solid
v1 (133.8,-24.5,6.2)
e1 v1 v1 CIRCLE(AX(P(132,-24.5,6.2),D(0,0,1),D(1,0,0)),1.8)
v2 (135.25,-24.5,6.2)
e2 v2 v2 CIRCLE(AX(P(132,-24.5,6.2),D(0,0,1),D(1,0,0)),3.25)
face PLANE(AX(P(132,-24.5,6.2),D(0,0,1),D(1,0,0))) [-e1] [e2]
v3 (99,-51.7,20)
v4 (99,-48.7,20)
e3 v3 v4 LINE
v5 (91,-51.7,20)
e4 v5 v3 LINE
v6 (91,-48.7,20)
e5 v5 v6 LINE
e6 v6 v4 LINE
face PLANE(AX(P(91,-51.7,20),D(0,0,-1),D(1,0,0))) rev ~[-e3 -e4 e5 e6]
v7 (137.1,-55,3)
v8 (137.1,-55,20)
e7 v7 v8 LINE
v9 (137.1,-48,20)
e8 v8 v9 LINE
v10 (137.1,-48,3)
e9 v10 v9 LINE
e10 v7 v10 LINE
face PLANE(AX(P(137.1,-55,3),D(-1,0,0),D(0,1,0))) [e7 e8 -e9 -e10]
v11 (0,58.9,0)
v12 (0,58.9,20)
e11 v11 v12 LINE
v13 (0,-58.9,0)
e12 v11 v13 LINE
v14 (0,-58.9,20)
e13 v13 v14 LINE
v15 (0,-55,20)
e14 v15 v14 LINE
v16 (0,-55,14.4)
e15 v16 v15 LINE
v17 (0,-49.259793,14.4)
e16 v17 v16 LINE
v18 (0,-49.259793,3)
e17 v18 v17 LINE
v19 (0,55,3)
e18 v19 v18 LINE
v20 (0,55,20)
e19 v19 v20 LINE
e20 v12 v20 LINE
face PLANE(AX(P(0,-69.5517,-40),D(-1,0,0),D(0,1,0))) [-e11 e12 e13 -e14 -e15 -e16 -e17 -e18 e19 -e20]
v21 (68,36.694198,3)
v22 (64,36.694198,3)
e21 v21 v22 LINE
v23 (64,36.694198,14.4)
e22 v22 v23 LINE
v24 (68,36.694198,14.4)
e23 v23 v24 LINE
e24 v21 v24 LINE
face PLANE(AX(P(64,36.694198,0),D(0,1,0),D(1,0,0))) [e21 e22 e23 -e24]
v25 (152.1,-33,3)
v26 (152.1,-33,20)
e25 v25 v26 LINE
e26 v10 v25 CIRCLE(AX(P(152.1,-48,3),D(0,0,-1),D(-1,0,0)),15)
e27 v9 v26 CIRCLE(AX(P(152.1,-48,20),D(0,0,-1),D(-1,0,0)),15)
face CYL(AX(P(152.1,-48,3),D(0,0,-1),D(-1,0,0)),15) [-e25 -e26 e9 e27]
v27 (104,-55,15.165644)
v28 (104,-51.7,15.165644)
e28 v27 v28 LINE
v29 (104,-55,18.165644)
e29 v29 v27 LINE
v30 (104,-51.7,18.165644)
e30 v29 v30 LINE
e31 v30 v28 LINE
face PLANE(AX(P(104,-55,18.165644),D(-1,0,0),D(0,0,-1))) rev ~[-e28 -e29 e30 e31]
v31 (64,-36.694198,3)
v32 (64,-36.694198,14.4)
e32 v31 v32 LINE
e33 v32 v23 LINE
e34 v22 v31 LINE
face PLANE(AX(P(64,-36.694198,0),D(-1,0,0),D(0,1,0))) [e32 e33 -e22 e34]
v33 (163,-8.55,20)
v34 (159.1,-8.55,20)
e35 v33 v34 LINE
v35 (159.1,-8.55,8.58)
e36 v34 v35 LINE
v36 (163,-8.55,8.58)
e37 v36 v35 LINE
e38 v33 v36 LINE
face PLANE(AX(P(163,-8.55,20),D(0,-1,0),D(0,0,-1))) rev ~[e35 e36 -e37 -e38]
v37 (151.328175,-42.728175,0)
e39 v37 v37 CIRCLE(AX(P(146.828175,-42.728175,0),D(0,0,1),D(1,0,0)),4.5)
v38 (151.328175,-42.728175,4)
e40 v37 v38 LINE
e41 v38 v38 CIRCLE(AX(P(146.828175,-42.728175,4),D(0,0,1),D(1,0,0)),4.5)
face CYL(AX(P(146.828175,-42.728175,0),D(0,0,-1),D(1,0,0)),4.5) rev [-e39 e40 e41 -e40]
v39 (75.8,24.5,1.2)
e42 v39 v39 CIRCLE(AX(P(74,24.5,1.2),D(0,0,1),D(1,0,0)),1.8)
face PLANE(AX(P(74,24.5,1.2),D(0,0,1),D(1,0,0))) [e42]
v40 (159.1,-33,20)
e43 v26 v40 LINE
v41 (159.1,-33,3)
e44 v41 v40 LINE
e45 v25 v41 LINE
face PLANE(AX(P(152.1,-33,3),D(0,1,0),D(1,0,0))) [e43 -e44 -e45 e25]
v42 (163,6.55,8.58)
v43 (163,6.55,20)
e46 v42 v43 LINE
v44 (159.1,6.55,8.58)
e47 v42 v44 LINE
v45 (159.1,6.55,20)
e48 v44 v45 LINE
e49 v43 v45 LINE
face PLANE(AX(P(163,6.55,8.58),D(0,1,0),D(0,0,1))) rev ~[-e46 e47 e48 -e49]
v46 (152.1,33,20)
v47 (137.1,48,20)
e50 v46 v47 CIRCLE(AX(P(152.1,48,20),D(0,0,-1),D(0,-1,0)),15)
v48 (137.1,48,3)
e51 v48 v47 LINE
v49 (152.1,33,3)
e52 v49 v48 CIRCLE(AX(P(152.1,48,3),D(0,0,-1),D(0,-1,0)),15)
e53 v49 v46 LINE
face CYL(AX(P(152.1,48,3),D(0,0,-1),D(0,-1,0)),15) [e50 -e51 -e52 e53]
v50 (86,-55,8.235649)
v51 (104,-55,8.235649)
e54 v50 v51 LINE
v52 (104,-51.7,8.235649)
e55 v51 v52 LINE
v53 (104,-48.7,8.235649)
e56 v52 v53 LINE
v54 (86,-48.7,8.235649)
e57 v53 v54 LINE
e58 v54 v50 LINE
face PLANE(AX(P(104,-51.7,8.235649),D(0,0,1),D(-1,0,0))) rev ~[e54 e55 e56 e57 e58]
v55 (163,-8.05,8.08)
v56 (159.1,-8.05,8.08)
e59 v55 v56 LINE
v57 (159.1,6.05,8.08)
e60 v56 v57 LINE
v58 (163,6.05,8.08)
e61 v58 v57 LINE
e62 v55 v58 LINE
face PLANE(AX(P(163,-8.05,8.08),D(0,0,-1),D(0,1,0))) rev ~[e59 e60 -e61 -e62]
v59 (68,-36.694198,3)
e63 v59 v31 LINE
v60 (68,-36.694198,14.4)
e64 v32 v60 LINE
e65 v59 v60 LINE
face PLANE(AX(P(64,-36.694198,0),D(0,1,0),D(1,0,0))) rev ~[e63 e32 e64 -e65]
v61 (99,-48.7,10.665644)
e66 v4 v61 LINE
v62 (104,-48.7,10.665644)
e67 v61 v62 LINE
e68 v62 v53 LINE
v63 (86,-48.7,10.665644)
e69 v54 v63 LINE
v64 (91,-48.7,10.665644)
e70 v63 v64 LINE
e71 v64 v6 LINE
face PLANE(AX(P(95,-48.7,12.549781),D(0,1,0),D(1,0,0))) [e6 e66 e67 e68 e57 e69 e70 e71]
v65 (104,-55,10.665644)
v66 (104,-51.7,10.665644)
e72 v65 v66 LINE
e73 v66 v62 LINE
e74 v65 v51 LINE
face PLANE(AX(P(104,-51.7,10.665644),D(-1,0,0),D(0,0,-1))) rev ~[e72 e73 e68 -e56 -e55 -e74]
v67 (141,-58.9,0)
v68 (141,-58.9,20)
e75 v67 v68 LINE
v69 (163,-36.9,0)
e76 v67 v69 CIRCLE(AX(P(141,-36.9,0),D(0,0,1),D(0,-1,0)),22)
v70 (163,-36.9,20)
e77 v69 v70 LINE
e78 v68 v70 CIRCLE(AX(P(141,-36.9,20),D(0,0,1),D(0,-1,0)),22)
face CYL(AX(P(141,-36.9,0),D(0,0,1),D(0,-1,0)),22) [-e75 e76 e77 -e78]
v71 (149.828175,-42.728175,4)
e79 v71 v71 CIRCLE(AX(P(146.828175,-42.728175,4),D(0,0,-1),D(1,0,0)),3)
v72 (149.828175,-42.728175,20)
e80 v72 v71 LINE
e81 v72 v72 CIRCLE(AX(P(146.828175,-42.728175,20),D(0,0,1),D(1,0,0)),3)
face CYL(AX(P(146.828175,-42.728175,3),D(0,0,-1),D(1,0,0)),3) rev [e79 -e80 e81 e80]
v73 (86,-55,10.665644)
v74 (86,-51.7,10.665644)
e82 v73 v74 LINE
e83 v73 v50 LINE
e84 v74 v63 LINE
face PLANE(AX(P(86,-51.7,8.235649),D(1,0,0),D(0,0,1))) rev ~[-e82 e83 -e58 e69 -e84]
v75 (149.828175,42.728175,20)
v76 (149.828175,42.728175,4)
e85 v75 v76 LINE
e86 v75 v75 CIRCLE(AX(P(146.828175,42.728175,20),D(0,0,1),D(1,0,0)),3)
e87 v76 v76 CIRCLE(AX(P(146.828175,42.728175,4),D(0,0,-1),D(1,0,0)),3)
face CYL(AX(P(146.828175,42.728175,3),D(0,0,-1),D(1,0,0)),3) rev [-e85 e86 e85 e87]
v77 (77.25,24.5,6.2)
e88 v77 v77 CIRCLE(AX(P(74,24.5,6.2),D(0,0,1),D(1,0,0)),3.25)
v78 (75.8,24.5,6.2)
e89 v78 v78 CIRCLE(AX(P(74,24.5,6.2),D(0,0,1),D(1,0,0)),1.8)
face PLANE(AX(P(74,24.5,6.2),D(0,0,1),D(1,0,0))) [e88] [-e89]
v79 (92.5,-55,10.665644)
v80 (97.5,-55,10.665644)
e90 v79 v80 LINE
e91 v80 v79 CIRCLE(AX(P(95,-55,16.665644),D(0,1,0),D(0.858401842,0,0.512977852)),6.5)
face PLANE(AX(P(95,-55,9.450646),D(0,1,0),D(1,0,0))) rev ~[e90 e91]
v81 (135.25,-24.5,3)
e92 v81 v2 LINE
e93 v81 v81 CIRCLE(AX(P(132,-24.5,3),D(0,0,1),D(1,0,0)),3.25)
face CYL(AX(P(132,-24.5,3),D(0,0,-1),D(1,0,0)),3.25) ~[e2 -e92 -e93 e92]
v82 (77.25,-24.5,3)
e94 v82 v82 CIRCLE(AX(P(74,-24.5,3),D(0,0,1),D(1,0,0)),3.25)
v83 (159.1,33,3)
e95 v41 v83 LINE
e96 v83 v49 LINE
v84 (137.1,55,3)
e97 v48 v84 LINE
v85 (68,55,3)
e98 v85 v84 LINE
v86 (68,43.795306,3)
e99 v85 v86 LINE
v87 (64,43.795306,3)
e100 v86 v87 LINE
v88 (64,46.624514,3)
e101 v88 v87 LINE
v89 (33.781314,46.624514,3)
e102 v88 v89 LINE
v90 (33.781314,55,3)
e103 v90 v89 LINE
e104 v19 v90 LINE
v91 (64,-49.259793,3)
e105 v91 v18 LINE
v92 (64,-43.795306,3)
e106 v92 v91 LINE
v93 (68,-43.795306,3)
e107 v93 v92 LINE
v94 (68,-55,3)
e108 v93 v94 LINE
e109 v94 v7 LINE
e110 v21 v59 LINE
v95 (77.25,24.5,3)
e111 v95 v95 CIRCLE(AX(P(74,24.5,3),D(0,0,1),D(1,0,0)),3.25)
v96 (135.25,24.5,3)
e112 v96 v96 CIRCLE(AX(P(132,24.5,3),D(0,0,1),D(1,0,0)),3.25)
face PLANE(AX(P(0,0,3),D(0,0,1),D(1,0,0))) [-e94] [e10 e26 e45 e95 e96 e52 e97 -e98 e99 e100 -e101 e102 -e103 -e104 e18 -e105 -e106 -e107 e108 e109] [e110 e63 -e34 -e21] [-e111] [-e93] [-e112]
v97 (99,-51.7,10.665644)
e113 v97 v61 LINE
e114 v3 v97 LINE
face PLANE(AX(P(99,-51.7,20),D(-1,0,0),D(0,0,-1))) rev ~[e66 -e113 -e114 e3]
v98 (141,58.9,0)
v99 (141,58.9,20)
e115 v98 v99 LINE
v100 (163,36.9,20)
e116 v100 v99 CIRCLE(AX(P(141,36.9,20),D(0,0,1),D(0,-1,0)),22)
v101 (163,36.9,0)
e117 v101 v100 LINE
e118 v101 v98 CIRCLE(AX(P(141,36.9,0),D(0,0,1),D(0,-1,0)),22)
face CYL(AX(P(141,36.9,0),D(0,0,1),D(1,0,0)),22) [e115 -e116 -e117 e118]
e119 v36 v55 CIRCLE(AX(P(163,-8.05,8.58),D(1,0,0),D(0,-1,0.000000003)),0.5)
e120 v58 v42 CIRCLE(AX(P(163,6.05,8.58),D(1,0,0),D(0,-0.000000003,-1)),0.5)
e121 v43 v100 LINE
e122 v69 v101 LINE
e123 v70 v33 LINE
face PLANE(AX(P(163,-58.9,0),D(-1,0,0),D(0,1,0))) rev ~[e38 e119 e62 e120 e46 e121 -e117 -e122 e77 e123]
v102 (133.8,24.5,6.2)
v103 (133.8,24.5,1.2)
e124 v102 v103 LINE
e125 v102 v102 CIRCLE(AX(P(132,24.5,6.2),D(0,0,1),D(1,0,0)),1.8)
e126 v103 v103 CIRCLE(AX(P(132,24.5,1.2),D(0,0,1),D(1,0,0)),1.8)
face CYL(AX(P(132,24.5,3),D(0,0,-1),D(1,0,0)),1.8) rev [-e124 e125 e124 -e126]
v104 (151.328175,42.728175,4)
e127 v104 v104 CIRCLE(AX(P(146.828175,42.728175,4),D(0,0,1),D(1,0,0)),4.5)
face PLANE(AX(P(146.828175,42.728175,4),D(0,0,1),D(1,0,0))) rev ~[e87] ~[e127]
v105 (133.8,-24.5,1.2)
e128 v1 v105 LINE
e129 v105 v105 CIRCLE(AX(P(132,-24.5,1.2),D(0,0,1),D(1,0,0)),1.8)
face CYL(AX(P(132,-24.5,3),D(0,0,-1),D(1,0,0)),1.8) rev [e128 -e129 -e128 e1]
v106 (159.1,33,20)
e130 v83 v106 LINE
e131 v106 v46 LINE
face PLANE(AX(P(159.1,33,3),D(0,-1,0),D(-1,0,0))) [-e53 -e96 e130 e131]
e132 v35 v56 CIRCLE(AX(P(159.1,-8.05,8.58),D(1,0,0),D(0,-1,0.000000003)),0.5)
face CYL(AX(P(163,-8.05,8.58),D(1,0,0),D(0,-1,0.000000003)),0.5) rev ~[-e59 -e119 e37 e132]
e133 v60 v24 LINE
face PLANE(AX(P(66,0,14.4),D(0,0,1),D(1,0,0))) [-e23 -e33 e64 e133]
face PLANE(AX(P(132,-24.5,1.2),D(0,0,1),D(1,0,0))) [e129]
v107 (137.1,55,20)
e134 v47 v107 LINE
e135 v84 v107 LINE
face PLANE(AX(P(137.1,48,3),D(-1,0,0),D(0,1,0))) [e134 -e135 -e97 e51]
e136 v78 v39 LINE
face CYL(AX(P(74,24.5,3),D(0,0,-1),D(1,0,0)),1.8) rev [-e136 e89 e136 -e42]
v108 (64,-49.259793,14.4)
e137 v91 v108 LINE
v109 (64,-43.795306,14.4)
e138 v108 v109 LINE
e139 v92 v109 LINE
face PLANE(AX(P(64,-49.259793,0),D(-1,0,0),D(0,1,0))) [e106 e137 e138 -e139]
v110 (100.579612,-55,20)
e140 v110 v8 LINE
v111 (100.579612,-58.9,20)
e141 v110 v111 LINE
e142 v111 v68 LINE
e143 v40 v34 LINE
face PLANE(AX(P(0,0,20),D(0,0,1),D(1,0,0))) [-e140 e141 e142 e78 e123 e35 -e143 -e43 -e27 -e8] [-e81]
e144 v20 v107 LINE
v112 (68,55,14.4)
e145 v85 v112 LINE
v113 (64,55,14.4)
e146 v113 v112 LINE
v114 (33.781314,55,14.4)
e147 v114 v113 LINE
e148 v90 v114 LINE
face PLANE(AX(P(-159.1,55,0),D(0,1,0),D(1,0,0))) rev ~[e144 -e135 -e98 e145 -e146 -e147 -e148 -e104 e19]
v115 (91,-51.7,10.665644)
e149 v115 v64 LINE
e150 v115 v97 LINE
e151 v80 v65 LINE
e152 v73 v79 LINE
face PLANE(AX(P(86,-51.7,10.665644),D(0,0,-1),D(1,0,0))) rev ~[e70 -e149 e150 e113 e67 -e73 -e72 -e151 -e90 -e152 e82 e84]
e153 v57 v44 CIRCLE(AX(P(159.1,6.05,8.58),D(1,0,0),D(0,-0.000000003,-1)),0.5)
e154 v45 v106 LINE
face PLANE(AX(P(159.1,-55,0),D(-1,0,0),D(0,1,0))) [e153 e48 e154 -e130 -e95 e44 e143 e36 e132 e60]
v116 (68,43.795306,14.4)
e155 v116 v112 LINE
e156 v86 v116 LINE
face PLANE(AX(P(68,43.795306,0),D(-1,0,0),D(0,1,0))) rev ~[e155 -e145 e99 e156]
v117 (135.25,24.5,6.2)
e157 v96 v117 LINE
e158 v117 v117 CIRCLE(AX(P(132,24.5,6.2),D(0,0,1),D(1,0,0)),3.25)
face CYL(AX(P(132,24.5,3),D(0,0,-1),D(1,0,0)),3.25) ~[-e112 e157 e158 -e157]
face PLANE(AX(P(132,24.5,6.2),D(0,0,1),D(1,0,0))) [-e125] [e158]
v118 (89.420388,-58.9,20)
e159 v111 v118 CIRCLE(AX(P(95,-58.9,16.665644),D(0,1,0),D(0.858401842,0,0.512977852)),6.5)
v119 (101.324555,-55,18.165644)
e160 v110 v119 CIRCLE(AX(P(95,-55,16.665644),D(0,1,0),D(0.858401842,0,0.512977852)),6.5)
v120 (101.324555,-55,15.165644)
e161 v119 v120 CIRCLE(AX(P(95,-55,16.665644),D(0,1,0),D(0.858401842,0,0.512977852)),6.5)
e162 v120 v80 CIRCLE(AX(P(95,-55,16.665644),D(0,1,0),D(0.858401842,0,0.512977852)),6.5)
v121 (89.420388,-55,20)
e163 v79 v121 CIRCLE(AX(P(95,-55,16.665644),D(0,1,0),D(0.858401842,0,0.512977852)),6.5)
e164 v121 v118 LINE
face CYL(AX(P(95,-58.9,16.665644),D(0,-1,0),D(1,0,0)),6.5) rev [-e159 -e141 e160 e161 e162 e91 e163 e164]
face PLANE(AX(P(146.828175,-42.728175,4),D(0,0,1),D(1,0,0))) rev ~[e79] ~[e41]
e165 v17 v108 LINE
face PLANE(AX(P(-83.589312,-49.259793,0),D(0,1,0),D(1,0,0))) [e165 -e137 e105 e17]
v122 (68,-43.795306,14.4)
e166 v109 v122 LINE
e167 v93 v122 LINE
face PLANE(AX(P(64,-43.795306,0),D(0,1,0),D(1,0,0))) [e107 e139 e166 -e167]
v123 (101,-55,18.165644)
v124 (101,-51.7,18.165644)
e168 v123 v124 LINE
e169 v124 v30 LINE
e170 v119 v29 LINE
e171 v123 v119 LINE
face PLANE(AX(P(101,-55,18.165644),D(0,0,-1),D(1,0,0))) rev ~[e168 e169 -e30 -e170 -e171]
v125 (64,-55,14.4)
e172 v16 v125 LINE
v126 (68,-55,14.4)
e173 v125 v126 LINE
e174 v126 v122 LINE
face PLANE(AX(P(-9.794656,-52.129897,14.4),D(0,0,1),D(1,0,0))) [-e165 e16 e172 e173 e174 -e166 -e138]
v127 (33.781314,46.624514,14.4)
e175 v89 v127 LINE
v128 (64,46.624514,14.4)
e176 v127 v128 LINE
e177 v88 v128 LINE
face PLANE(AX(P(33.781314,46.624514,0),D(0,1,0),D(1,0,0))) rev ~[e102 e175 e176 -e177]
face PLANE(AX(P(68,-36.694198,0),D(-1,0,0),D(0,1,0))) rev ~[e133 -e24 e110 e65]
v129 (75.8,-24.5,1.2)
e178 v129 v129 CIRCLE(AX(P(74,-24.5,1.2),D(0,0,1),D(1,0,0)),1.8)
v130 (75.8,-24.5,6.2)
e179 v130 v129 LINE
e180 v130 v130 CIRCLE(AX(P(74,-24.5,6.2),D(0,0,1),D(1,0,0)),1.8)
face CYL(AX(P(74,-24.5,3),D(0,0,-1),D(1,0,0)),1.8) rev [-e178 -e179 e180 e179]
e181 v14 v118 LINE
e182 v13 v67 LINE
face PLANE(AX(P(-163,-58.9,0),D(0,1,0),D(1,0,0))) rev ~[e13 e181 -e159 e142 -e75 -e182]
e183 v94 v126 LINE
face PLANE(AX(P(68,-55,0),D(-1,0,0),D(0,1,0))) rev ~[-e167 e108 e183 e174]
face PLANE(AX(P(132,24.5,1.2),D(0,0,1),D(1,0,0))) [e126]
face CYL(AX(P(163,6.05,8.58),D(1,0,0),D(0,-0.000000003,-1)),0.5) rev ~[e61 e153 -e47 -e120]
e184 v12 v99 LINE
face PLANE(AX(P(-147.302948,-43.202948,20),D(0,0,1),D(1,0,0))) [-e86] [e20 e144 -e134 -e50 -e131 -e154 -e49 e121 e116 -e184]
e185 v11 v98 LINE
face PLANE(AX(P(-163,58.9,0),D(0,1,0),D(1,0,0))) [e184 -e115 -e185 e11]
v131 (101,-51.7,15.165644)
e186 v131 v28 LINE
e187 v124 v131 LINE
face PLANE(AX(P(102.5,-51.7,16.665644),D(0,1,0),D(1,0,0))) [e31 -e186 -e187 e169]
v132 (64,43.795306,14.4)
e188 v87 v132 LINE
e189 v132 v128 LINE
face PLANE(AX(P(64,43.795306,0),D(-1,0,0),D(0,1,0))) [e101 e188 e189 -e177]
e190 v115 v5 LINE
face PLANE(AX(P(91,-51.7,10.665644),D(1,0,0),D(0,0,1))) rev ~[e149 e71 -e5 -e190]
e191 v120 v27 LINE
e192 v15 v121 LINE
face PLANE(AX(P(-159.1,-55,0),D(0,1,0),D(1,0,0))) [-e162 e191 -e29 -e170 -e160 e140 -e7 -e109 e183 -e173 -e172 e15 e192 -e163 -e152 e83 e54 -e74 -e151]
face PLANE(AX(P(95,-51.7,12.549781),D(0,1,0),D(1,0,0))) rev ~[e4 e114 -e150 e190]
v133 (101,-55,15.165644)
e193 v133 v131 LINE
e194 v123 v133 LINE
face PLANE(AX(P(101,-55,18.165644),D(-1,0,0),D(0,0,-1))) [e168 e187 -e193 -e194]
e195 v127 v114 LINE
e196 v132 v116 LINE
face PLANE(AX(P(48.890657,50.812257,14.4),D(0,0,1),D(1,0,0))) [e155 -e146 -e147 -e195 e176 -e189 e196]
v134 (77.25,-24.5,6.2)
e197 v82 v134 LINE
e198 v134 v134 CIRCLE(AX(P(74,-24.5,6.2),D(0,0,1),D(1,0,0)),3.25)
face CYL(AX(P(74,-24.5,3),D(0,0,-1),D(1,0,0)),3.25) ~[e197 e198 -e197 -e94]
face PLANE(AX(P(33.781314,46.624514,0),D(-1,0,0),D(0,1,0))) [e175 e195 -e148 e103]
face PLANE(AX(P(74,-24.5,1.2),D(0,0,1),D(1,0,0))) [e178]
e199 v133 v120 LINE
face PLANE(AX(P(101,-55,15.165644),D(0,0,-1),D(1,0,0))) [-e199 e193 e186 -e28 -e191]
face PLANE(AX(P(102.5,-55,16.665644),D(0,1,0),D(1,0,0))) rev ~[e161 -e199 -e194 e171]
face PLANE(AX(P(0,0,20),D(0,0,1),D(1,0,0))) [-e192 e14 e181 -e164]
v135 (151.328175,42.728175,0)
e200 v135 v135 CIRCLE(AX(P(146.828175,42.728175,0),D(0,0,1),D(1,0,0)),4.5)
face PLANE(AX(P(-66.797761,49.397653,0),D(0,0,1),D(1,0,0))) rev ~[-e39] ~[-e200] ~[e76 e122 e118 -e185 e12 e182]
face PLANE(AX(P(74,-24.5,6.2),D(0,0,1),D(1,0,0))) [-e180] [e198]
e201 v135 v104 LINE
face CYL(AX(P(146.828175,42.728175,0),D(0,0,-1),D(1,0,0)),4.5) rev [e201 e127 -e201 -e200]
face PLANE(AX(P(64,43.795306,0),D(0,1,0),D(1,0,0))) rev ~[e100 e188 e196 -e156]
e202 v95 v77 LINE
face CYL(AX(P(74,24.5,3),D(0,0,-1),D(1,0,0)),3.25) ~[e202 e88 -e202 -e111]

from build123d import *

# Parameters (mm, degrees)
SKETCH1_W               = 326
SKETCH1_H               = 117.8
SKETCH1_W_2             = 318.2
SKETCH1_H_2             = 110
BOSS_EXTRUDE1_DEPTH     = 20
SKETCH1_3_W             = 318.2
SKETCH1_3_H             = 110
BOSS_EXTRUDE2_DEPTH     = 3
BOSS_EXTRUDE6_START     = 3
SKETCH6_R               = 3.25
SKETCH6_R_2             = 1.8
BOSS_EXTRUDE6_DEPTH     = 3.2
FILLET1_R               = 22
CUT_EXTRUDE3_START      = 163
CUT_EXTRUDE3_DEPTH      = 3.9
CUT_EXTRUDE4_START      = 1.2
SKETCH6_2_R             = 1.8
CUT_EXTRUDE4_DEPTH      = 1.8
SKETCH5_W               = 64.404478897
SKETCH5_H               = 11.204693833
SKETCH5_W_2             = 4
SKETCH5_H_2             = 98.795306167
SKETCH5_W_3             = 30.218685567
SKETCH5_H_3             = 8.375486052
SKETCH5_H_4             = 73.388395798
SKETCH5_W_4             = 147.589311785
SKETCH5_H_5             = 5.740206696
BOSS_EXTRUDE7_DEPTH     = 14.4
CUT_EXTRUDE5_START      = -58.9
SKETCH10_R              = 6.5
CUT_EXTRUDE5_DEPTH      = 3.9
BOSS_EXTRUDE8_START     = -55
SKETCH11_W              = 18
SKETCH11_H              = 2.429995135
SKETCH11_W_2            = 3
SKETCH11_H_2            = 3
BOSS_EXTRUDE8_DEPTH     = 3.3
BOSS_EXTRUDE9_START     = -51.7
BOSS_EXTRUDE9_DEPTH     = 3
BOSS_EXTRUDE10_START    = 3
SKETCH12_R              = 3
BOSS_EXTRUDE10_DEPTH    = 17
SKETCH12_3_R            = 3
CUT_EXTRUDE6_DEPTH      = 6
SKETCH13_R              = 4.5
CUT_EXTRUDE7_DEPTH      = 4
CUT_EXTRUDE8_DEPTH      = 30
CUT_EXTRUDE8_DEPTH_BACK = 40
SKETCH14_W              = 179.941396495
SKETCH14_H              = 132.266113534


with BuildPart() as part:
    # Sketch1 → Boss-Extrude1 (new body)
    with BuildSketch(Plane.XY):
        Rectangle(SKETCH1_W, SKETCH1_H)
        Rectangle(SKETCH1_W_2, SKETCH1_H_2, mode=Mode.SUBTRACT)
    extrude(amount=BOSS_EXTRUDE1_DEPTH)

    # Sketch1<3> → Boss-Extrude2 (add)
    with BuildSketch(Plane.XY):
        Rectangle(SKETCH1_3_W, SKETCH1_3_H)
    extrude(amount=BOSS_EXTRUDE2_DEPTH)

    # Sketch6 → Boss-Extrude6 (add)
    # profile 1 of 4: a face of its own
    with BuildSketch(Plane.XY.offset(BOSS_EXTRUDE6_START)):
        with Locations((132, -24.5)):
            Circle(SKETCH6_R)
        with Locations((132, -24.5)):
            Circle(SKETCH6_R_2, mode=Mode.SUBTRACT)
    # profile 2 of 4: a face of its own
    with BuildSketch(Plane.XY.offset(BOSS_EXTRUDE6_START)):
        with Locations((74, -24.5)):
            Circle(SKETCH6_R)
        with Locations((74, -24.5)):
            Circle(SKETCH6_R_2, mode=Mode.SUBTRACT)
    # profile 3 of 4: a face of its own
    with BuildSketch(Plane.XY.offset(BOSS_EXTRUDE6_START)):
        with Locations((74, 24.5)):
            Circle(SKETCH6_R)
        with Locations((74, 24.5)):
            Circle(SKETCH6_R_2, mode=Mode.SUBTRACT)
    # profile 4 of 4: a face of its own
    with BuildSketch(Plane.XY.offset(BOSS_EXTRUDE6_START)):
        with Locations((132, 24.5)):
            Circle(SKETCH6_R)
        with Locations((132, 24.5)):
            Circle(SKETCH6_R_2, mode=Mode.SUBTRACT)
    extrude(amount=BOSS_EXTRUDE6_DEPTH)

    # Fillet1
    fillet1_edges = [part.edges().sort_by_distance(p)[0] for p in [
        (163, 58.9, 10),
        (163, -58.9, 10),
        (-163, -58.9, 10),
        (-163, 58.9, 10),
        (159.1, 55, 11.5),
        (-159.1, 55, 11.5),
        (-159.1, -55, 11.5),
        (159.1, -55, 11.5),
    ]]
    fillet(fillet1_edges, radius=FILLET1_R)

    # Sketch9 → Cut-Extrude3 (cut)
    with BuildSketch(Plane(origin=(0, 0, 0), x_dir=(0, 0, -1), z_dir=(1, 0, 0)).offset(CUT_EXTRUDE3_START)):
        with BuildLine():
            Line((-20, -8.55), (-8.58, -8.55))
            ThreePointArc((-8.58, -8.55), (-8.226446609, -8.403553391), (-8.08, -8.05))
            Line((-8.08, -8.05), (-8.08, 6.05))
            ThreePointArc((-8.08, 6.05), (-8.226446609, 6.403553391), (-8.58, 6.55))
            Line((-8.58, 6.55), (-20, 6.55))
            Line((-20, 6.55), (-20, -8.55))
        make_face()
    extrude(amount=-CUT_EXTRUDE3_DEPTH, mode=Mode.SUBTRACT)

    # Sketch6<2> → Cut-Extrude4 (cut)
    with BuildSketch(Plane.XY.offset(CUT_EXTRUDE4_START)):
        with Locations((132, -24.5)):
            Circle(SKETCH6_2_R)
        with Locations((132, 24.5)):
            Circle(SKETCH6_2_R)
        with Locations((74, 24.5)):
            Circle(SKETCH6_2_R)
        with Locations((74, -24.5)):
            Circle(SKETCH6_2_R)
    extrude(amount=CUT_EXTRUDE4_DEPTH, mode=Mode.SUBTRACT)

    # Sketch5 → Boss-Extrude7 (add)
    with BuildSketch(Plane.XY):
        with Locations((-66.797760552, 49.397653084)):
            Rectangle(SKETCH5_W, SKETCH5_H)
        with Locations((-101, 5.602346917)):
            Rectangle(SKETCH5_W_2, SKETCH5_H_2)
        with Locations((48.890657217, 50.812256974)):
            Rectangle(SKETCH5_W_3, SKETCH5_H_3)
        with Locations((66, 49.397653084)):
            Rectangle(SKETCH5_W_2, SKETCH5_H)
        with Locations((66, 0)):
            Rectangle(SKETCH5_W_2, SKETCH5_H_4)
        with Locations((-9.794655893, -52.129896652)):
            Rectangle(SKETCH5_W_4, SKETCH5_H_5)
        with Locations((66, -49.397653084)):
            Rectangle(SKETCH5_W_2, SKETCH5_H)
    extrude(amount=BOSS_EXTRUDE7_DEPTH)

    # Sketch10 → Cut-Extrude5 (cut)
    with BuildSketch(Plane(origin=(0, 0, 0), x_dir=(1, 0, 0), z_dir=(0, 1, 0)).offset(CUT_EXTRUDE5_START)):
        with Locations((95, -16.665643961)):
            Circle(SKETCH10_R)
        with Locations((-95, -16.665643961)):
            Circle(SKETCH10_R)
    extrude(amount=CUT_EXTRUDE5_DEPTH, mode=Mode.SUBTRACT)

    # Sketch11 → Boss-Extrude8 (add)
    with BuildSketch(Plane(origin=(0, 0, 0), x_dir=(1, 0, 0), z_dir=(0, 1, 0)).offset(BOSS_EXTRUDE8_START)):
        Polygon((-104.033941149, -14.931036323), (-101.03394878, -14.937802738), (-101.040715195, -17.937795107), (-104.040707565, -17.931028692), align=None)
        Polygon((-86.018356525, -8.041657306), (-104.018310741, -8.001058815), (-104.023791526, -10.431047769), (-86.023837311, -10.47164626), align=None)
        with Locations((95, -9.450646394)):
            Rectangle(SKETCH11_W, SKETCH11_H)
        with Locations((102.5, -16.665643961)):
            Rectangle(SKETCH11_W_2, SKETCH11_H_2)
    extrude(amount=BOSS_EXTRUDE8_DEPTH)

    # Sketch11<3> → Boss-Extrude9 (add)
    with BuildSketch(Plane(origin=(0, 0, 0), x_dir=(1, 0, 0), z_dir=(0, 1, 0)).offset(BOSS_EXTRUDE9_START)):
        Polygon((86, -8.235648826), (86, -10.665643961), (91, -10.665643961), (91, -20), (99, -20), (99, -10.665643961), (104, -10.665643961), (104, -8.235648826), align=None)
        Polygon((-104.023791526, -10.431047769), (-99.023804244, -10.442325128), (-99.044857621, -19.776657424), (-91.044877969, -19.794701198), (-91.023824593, -10.460368902), (-86.023837311, -10.47164626), (-86.018356525, -8.041657306), (-104.018310741, -8.001058815), align=None)
    extrude(amount=BOSS_EXTRUDE9_DEPTH)

    # Sketch12 → Boss-Extrude10 (add)
    # profile 1 of 4: a face of its own
    with BuildSketch(Plane.XY.offset(BOSS_EXTRUDE10_START)):
        with BuildLine():
            Line((-137.1, -55), (-137.1, -48))
            ThreePointArc((-137.1, -48), (-141.493398282, -37.393398282), (-152.1, -33))
            Line((-152.1, -33), (-159.1, -33))
            ThreePointArc((-159.1, -33), (-152.656349186, -48.556349186), (-137.1, -55))
        make_face()
        with Locations((-146.828174593, -42.728174593)):
            Circle(SKETCH12_R, mode=Mode.SUBTRACT)
    # profile 2 of 4: a face of its own
    with BuildSketch(Plane.XY.offset(BOSS_EXTRUDE10_START)):
        with BuildLine():
            ThreePointArc((-137.1, 48), (-141.493398282, 37.393398282), (-152.1, 33))
            Line((-152.1, 33), (-159.1, 33))
            ThreePointArc((-159.1, 33), (-152.656349186, 48.556349186), (-137.1, 55))
            Line((-137.1, 55), (-137.1, 48))
        make_face()
        with Locations((-146.828174593, 42.728174593)):
            Circle(SKETCH12_R, mode=Mode.SUBTRACT)
    # profile 3 of 4: a face of its own
    with BuildSketch(Plane.XY.offset(BOSS_EXTRUDE10_START)):
        with BuildLine():
            ThreePointArc((152.1, 33), (141.493398282, 37.393398282), (137.1, 48))
            Line((137.1, 48), (137.1, 55))
            ThreePointArc((137.1, 55), (152.656349186, 48.556349186), (159.1, 33))
            Line((159.1, 33), (152.1, 33))
        make_face()
        with Locations((146.828174593, 42.728174593)):
            Circle(SKETCH12_R, mode=Mode.SUBTRACT)
    # profile 4 of 4: a face of its own
    with BuildSketch(Plane.XY.offset(BOSS_EXTRUDE10_START)):
        with BuildLine():
            ThreePointArc((137.1, -48), (141.493398282, -37.393398282), (152.1, -33))
            Line((152.1, -33), (159.1, -33))
            ThreePointArc((159.1, -33), (152.656349186, -48.556349186), (137.1, -55))
            Line((137.1, -55), (137.1, -48))
        make_face()
        with Locations((146.828174593, -42.728174593)):
            Circle(SKETCH12_R, mode=Mode.SUBTRACT)
    extrude(amount=BOSS_EXTRUDE10_DEPTH)

    # Sketch12<3> → Cut-Extrude6 (cut)
    with BuildSketch(Plane.XY):
        with Locations((146.828174593, 42.728174593)):
            Circle(SKETCH12_3_R)
        with Locations((146.828174593, -42.728174593)):
            Circle(SKETCH12_3_R)
        with Locations((-146.828174593, -42.728174593)):
            Circle(SKETCH12_3_R)
        with Locations((-146.828174593, 42.728174593)):
            Circle(SKETCH12_3_R)
    extrude(amount=CUT_EXTRUDE6_DEPTH, mode=Mode.SUBTRACT)

    # Sketch13 → Cut-Extrude7 (cut)
    with BuildSketch(Plane.XY):
        with Locations((-146.828174593, -42.728174593)):
            Circle(SKETCH13_R)
        with Locations((-146.828174593, 42.728174593)):
            Circle(SKETCH13_R)
        with Locations((146.828174593, 42.728174593)):
            Circle(SKETCH13_R)
        with Locations((146.828174593, -42.728174593)):
            Circle(SKETCH13_R)
    extrude(amount=CUT_EXTRUDE7_DEPTH, mode=Mode.SUBTRACT)

    # Sketch14 → Cut-Extrude8 (cut, two sides: drawn at the far end of the back side and taken through both)
    with BuildSketch(Plane.XY.offset(-CUT_EXTRUDE8_DEPTH_BACK)):
        with Locations((-89.970698248, -3.418642863)):
            Rectangle(SKETCH14_W, SKETCH14_H)
    extrude(amount=CUT_EXTRUDE8_DEPTH + CUT_EXTRUDE8_DEPTH_BACK, mode=Mode.SUBTRACT)


solid = part.part
